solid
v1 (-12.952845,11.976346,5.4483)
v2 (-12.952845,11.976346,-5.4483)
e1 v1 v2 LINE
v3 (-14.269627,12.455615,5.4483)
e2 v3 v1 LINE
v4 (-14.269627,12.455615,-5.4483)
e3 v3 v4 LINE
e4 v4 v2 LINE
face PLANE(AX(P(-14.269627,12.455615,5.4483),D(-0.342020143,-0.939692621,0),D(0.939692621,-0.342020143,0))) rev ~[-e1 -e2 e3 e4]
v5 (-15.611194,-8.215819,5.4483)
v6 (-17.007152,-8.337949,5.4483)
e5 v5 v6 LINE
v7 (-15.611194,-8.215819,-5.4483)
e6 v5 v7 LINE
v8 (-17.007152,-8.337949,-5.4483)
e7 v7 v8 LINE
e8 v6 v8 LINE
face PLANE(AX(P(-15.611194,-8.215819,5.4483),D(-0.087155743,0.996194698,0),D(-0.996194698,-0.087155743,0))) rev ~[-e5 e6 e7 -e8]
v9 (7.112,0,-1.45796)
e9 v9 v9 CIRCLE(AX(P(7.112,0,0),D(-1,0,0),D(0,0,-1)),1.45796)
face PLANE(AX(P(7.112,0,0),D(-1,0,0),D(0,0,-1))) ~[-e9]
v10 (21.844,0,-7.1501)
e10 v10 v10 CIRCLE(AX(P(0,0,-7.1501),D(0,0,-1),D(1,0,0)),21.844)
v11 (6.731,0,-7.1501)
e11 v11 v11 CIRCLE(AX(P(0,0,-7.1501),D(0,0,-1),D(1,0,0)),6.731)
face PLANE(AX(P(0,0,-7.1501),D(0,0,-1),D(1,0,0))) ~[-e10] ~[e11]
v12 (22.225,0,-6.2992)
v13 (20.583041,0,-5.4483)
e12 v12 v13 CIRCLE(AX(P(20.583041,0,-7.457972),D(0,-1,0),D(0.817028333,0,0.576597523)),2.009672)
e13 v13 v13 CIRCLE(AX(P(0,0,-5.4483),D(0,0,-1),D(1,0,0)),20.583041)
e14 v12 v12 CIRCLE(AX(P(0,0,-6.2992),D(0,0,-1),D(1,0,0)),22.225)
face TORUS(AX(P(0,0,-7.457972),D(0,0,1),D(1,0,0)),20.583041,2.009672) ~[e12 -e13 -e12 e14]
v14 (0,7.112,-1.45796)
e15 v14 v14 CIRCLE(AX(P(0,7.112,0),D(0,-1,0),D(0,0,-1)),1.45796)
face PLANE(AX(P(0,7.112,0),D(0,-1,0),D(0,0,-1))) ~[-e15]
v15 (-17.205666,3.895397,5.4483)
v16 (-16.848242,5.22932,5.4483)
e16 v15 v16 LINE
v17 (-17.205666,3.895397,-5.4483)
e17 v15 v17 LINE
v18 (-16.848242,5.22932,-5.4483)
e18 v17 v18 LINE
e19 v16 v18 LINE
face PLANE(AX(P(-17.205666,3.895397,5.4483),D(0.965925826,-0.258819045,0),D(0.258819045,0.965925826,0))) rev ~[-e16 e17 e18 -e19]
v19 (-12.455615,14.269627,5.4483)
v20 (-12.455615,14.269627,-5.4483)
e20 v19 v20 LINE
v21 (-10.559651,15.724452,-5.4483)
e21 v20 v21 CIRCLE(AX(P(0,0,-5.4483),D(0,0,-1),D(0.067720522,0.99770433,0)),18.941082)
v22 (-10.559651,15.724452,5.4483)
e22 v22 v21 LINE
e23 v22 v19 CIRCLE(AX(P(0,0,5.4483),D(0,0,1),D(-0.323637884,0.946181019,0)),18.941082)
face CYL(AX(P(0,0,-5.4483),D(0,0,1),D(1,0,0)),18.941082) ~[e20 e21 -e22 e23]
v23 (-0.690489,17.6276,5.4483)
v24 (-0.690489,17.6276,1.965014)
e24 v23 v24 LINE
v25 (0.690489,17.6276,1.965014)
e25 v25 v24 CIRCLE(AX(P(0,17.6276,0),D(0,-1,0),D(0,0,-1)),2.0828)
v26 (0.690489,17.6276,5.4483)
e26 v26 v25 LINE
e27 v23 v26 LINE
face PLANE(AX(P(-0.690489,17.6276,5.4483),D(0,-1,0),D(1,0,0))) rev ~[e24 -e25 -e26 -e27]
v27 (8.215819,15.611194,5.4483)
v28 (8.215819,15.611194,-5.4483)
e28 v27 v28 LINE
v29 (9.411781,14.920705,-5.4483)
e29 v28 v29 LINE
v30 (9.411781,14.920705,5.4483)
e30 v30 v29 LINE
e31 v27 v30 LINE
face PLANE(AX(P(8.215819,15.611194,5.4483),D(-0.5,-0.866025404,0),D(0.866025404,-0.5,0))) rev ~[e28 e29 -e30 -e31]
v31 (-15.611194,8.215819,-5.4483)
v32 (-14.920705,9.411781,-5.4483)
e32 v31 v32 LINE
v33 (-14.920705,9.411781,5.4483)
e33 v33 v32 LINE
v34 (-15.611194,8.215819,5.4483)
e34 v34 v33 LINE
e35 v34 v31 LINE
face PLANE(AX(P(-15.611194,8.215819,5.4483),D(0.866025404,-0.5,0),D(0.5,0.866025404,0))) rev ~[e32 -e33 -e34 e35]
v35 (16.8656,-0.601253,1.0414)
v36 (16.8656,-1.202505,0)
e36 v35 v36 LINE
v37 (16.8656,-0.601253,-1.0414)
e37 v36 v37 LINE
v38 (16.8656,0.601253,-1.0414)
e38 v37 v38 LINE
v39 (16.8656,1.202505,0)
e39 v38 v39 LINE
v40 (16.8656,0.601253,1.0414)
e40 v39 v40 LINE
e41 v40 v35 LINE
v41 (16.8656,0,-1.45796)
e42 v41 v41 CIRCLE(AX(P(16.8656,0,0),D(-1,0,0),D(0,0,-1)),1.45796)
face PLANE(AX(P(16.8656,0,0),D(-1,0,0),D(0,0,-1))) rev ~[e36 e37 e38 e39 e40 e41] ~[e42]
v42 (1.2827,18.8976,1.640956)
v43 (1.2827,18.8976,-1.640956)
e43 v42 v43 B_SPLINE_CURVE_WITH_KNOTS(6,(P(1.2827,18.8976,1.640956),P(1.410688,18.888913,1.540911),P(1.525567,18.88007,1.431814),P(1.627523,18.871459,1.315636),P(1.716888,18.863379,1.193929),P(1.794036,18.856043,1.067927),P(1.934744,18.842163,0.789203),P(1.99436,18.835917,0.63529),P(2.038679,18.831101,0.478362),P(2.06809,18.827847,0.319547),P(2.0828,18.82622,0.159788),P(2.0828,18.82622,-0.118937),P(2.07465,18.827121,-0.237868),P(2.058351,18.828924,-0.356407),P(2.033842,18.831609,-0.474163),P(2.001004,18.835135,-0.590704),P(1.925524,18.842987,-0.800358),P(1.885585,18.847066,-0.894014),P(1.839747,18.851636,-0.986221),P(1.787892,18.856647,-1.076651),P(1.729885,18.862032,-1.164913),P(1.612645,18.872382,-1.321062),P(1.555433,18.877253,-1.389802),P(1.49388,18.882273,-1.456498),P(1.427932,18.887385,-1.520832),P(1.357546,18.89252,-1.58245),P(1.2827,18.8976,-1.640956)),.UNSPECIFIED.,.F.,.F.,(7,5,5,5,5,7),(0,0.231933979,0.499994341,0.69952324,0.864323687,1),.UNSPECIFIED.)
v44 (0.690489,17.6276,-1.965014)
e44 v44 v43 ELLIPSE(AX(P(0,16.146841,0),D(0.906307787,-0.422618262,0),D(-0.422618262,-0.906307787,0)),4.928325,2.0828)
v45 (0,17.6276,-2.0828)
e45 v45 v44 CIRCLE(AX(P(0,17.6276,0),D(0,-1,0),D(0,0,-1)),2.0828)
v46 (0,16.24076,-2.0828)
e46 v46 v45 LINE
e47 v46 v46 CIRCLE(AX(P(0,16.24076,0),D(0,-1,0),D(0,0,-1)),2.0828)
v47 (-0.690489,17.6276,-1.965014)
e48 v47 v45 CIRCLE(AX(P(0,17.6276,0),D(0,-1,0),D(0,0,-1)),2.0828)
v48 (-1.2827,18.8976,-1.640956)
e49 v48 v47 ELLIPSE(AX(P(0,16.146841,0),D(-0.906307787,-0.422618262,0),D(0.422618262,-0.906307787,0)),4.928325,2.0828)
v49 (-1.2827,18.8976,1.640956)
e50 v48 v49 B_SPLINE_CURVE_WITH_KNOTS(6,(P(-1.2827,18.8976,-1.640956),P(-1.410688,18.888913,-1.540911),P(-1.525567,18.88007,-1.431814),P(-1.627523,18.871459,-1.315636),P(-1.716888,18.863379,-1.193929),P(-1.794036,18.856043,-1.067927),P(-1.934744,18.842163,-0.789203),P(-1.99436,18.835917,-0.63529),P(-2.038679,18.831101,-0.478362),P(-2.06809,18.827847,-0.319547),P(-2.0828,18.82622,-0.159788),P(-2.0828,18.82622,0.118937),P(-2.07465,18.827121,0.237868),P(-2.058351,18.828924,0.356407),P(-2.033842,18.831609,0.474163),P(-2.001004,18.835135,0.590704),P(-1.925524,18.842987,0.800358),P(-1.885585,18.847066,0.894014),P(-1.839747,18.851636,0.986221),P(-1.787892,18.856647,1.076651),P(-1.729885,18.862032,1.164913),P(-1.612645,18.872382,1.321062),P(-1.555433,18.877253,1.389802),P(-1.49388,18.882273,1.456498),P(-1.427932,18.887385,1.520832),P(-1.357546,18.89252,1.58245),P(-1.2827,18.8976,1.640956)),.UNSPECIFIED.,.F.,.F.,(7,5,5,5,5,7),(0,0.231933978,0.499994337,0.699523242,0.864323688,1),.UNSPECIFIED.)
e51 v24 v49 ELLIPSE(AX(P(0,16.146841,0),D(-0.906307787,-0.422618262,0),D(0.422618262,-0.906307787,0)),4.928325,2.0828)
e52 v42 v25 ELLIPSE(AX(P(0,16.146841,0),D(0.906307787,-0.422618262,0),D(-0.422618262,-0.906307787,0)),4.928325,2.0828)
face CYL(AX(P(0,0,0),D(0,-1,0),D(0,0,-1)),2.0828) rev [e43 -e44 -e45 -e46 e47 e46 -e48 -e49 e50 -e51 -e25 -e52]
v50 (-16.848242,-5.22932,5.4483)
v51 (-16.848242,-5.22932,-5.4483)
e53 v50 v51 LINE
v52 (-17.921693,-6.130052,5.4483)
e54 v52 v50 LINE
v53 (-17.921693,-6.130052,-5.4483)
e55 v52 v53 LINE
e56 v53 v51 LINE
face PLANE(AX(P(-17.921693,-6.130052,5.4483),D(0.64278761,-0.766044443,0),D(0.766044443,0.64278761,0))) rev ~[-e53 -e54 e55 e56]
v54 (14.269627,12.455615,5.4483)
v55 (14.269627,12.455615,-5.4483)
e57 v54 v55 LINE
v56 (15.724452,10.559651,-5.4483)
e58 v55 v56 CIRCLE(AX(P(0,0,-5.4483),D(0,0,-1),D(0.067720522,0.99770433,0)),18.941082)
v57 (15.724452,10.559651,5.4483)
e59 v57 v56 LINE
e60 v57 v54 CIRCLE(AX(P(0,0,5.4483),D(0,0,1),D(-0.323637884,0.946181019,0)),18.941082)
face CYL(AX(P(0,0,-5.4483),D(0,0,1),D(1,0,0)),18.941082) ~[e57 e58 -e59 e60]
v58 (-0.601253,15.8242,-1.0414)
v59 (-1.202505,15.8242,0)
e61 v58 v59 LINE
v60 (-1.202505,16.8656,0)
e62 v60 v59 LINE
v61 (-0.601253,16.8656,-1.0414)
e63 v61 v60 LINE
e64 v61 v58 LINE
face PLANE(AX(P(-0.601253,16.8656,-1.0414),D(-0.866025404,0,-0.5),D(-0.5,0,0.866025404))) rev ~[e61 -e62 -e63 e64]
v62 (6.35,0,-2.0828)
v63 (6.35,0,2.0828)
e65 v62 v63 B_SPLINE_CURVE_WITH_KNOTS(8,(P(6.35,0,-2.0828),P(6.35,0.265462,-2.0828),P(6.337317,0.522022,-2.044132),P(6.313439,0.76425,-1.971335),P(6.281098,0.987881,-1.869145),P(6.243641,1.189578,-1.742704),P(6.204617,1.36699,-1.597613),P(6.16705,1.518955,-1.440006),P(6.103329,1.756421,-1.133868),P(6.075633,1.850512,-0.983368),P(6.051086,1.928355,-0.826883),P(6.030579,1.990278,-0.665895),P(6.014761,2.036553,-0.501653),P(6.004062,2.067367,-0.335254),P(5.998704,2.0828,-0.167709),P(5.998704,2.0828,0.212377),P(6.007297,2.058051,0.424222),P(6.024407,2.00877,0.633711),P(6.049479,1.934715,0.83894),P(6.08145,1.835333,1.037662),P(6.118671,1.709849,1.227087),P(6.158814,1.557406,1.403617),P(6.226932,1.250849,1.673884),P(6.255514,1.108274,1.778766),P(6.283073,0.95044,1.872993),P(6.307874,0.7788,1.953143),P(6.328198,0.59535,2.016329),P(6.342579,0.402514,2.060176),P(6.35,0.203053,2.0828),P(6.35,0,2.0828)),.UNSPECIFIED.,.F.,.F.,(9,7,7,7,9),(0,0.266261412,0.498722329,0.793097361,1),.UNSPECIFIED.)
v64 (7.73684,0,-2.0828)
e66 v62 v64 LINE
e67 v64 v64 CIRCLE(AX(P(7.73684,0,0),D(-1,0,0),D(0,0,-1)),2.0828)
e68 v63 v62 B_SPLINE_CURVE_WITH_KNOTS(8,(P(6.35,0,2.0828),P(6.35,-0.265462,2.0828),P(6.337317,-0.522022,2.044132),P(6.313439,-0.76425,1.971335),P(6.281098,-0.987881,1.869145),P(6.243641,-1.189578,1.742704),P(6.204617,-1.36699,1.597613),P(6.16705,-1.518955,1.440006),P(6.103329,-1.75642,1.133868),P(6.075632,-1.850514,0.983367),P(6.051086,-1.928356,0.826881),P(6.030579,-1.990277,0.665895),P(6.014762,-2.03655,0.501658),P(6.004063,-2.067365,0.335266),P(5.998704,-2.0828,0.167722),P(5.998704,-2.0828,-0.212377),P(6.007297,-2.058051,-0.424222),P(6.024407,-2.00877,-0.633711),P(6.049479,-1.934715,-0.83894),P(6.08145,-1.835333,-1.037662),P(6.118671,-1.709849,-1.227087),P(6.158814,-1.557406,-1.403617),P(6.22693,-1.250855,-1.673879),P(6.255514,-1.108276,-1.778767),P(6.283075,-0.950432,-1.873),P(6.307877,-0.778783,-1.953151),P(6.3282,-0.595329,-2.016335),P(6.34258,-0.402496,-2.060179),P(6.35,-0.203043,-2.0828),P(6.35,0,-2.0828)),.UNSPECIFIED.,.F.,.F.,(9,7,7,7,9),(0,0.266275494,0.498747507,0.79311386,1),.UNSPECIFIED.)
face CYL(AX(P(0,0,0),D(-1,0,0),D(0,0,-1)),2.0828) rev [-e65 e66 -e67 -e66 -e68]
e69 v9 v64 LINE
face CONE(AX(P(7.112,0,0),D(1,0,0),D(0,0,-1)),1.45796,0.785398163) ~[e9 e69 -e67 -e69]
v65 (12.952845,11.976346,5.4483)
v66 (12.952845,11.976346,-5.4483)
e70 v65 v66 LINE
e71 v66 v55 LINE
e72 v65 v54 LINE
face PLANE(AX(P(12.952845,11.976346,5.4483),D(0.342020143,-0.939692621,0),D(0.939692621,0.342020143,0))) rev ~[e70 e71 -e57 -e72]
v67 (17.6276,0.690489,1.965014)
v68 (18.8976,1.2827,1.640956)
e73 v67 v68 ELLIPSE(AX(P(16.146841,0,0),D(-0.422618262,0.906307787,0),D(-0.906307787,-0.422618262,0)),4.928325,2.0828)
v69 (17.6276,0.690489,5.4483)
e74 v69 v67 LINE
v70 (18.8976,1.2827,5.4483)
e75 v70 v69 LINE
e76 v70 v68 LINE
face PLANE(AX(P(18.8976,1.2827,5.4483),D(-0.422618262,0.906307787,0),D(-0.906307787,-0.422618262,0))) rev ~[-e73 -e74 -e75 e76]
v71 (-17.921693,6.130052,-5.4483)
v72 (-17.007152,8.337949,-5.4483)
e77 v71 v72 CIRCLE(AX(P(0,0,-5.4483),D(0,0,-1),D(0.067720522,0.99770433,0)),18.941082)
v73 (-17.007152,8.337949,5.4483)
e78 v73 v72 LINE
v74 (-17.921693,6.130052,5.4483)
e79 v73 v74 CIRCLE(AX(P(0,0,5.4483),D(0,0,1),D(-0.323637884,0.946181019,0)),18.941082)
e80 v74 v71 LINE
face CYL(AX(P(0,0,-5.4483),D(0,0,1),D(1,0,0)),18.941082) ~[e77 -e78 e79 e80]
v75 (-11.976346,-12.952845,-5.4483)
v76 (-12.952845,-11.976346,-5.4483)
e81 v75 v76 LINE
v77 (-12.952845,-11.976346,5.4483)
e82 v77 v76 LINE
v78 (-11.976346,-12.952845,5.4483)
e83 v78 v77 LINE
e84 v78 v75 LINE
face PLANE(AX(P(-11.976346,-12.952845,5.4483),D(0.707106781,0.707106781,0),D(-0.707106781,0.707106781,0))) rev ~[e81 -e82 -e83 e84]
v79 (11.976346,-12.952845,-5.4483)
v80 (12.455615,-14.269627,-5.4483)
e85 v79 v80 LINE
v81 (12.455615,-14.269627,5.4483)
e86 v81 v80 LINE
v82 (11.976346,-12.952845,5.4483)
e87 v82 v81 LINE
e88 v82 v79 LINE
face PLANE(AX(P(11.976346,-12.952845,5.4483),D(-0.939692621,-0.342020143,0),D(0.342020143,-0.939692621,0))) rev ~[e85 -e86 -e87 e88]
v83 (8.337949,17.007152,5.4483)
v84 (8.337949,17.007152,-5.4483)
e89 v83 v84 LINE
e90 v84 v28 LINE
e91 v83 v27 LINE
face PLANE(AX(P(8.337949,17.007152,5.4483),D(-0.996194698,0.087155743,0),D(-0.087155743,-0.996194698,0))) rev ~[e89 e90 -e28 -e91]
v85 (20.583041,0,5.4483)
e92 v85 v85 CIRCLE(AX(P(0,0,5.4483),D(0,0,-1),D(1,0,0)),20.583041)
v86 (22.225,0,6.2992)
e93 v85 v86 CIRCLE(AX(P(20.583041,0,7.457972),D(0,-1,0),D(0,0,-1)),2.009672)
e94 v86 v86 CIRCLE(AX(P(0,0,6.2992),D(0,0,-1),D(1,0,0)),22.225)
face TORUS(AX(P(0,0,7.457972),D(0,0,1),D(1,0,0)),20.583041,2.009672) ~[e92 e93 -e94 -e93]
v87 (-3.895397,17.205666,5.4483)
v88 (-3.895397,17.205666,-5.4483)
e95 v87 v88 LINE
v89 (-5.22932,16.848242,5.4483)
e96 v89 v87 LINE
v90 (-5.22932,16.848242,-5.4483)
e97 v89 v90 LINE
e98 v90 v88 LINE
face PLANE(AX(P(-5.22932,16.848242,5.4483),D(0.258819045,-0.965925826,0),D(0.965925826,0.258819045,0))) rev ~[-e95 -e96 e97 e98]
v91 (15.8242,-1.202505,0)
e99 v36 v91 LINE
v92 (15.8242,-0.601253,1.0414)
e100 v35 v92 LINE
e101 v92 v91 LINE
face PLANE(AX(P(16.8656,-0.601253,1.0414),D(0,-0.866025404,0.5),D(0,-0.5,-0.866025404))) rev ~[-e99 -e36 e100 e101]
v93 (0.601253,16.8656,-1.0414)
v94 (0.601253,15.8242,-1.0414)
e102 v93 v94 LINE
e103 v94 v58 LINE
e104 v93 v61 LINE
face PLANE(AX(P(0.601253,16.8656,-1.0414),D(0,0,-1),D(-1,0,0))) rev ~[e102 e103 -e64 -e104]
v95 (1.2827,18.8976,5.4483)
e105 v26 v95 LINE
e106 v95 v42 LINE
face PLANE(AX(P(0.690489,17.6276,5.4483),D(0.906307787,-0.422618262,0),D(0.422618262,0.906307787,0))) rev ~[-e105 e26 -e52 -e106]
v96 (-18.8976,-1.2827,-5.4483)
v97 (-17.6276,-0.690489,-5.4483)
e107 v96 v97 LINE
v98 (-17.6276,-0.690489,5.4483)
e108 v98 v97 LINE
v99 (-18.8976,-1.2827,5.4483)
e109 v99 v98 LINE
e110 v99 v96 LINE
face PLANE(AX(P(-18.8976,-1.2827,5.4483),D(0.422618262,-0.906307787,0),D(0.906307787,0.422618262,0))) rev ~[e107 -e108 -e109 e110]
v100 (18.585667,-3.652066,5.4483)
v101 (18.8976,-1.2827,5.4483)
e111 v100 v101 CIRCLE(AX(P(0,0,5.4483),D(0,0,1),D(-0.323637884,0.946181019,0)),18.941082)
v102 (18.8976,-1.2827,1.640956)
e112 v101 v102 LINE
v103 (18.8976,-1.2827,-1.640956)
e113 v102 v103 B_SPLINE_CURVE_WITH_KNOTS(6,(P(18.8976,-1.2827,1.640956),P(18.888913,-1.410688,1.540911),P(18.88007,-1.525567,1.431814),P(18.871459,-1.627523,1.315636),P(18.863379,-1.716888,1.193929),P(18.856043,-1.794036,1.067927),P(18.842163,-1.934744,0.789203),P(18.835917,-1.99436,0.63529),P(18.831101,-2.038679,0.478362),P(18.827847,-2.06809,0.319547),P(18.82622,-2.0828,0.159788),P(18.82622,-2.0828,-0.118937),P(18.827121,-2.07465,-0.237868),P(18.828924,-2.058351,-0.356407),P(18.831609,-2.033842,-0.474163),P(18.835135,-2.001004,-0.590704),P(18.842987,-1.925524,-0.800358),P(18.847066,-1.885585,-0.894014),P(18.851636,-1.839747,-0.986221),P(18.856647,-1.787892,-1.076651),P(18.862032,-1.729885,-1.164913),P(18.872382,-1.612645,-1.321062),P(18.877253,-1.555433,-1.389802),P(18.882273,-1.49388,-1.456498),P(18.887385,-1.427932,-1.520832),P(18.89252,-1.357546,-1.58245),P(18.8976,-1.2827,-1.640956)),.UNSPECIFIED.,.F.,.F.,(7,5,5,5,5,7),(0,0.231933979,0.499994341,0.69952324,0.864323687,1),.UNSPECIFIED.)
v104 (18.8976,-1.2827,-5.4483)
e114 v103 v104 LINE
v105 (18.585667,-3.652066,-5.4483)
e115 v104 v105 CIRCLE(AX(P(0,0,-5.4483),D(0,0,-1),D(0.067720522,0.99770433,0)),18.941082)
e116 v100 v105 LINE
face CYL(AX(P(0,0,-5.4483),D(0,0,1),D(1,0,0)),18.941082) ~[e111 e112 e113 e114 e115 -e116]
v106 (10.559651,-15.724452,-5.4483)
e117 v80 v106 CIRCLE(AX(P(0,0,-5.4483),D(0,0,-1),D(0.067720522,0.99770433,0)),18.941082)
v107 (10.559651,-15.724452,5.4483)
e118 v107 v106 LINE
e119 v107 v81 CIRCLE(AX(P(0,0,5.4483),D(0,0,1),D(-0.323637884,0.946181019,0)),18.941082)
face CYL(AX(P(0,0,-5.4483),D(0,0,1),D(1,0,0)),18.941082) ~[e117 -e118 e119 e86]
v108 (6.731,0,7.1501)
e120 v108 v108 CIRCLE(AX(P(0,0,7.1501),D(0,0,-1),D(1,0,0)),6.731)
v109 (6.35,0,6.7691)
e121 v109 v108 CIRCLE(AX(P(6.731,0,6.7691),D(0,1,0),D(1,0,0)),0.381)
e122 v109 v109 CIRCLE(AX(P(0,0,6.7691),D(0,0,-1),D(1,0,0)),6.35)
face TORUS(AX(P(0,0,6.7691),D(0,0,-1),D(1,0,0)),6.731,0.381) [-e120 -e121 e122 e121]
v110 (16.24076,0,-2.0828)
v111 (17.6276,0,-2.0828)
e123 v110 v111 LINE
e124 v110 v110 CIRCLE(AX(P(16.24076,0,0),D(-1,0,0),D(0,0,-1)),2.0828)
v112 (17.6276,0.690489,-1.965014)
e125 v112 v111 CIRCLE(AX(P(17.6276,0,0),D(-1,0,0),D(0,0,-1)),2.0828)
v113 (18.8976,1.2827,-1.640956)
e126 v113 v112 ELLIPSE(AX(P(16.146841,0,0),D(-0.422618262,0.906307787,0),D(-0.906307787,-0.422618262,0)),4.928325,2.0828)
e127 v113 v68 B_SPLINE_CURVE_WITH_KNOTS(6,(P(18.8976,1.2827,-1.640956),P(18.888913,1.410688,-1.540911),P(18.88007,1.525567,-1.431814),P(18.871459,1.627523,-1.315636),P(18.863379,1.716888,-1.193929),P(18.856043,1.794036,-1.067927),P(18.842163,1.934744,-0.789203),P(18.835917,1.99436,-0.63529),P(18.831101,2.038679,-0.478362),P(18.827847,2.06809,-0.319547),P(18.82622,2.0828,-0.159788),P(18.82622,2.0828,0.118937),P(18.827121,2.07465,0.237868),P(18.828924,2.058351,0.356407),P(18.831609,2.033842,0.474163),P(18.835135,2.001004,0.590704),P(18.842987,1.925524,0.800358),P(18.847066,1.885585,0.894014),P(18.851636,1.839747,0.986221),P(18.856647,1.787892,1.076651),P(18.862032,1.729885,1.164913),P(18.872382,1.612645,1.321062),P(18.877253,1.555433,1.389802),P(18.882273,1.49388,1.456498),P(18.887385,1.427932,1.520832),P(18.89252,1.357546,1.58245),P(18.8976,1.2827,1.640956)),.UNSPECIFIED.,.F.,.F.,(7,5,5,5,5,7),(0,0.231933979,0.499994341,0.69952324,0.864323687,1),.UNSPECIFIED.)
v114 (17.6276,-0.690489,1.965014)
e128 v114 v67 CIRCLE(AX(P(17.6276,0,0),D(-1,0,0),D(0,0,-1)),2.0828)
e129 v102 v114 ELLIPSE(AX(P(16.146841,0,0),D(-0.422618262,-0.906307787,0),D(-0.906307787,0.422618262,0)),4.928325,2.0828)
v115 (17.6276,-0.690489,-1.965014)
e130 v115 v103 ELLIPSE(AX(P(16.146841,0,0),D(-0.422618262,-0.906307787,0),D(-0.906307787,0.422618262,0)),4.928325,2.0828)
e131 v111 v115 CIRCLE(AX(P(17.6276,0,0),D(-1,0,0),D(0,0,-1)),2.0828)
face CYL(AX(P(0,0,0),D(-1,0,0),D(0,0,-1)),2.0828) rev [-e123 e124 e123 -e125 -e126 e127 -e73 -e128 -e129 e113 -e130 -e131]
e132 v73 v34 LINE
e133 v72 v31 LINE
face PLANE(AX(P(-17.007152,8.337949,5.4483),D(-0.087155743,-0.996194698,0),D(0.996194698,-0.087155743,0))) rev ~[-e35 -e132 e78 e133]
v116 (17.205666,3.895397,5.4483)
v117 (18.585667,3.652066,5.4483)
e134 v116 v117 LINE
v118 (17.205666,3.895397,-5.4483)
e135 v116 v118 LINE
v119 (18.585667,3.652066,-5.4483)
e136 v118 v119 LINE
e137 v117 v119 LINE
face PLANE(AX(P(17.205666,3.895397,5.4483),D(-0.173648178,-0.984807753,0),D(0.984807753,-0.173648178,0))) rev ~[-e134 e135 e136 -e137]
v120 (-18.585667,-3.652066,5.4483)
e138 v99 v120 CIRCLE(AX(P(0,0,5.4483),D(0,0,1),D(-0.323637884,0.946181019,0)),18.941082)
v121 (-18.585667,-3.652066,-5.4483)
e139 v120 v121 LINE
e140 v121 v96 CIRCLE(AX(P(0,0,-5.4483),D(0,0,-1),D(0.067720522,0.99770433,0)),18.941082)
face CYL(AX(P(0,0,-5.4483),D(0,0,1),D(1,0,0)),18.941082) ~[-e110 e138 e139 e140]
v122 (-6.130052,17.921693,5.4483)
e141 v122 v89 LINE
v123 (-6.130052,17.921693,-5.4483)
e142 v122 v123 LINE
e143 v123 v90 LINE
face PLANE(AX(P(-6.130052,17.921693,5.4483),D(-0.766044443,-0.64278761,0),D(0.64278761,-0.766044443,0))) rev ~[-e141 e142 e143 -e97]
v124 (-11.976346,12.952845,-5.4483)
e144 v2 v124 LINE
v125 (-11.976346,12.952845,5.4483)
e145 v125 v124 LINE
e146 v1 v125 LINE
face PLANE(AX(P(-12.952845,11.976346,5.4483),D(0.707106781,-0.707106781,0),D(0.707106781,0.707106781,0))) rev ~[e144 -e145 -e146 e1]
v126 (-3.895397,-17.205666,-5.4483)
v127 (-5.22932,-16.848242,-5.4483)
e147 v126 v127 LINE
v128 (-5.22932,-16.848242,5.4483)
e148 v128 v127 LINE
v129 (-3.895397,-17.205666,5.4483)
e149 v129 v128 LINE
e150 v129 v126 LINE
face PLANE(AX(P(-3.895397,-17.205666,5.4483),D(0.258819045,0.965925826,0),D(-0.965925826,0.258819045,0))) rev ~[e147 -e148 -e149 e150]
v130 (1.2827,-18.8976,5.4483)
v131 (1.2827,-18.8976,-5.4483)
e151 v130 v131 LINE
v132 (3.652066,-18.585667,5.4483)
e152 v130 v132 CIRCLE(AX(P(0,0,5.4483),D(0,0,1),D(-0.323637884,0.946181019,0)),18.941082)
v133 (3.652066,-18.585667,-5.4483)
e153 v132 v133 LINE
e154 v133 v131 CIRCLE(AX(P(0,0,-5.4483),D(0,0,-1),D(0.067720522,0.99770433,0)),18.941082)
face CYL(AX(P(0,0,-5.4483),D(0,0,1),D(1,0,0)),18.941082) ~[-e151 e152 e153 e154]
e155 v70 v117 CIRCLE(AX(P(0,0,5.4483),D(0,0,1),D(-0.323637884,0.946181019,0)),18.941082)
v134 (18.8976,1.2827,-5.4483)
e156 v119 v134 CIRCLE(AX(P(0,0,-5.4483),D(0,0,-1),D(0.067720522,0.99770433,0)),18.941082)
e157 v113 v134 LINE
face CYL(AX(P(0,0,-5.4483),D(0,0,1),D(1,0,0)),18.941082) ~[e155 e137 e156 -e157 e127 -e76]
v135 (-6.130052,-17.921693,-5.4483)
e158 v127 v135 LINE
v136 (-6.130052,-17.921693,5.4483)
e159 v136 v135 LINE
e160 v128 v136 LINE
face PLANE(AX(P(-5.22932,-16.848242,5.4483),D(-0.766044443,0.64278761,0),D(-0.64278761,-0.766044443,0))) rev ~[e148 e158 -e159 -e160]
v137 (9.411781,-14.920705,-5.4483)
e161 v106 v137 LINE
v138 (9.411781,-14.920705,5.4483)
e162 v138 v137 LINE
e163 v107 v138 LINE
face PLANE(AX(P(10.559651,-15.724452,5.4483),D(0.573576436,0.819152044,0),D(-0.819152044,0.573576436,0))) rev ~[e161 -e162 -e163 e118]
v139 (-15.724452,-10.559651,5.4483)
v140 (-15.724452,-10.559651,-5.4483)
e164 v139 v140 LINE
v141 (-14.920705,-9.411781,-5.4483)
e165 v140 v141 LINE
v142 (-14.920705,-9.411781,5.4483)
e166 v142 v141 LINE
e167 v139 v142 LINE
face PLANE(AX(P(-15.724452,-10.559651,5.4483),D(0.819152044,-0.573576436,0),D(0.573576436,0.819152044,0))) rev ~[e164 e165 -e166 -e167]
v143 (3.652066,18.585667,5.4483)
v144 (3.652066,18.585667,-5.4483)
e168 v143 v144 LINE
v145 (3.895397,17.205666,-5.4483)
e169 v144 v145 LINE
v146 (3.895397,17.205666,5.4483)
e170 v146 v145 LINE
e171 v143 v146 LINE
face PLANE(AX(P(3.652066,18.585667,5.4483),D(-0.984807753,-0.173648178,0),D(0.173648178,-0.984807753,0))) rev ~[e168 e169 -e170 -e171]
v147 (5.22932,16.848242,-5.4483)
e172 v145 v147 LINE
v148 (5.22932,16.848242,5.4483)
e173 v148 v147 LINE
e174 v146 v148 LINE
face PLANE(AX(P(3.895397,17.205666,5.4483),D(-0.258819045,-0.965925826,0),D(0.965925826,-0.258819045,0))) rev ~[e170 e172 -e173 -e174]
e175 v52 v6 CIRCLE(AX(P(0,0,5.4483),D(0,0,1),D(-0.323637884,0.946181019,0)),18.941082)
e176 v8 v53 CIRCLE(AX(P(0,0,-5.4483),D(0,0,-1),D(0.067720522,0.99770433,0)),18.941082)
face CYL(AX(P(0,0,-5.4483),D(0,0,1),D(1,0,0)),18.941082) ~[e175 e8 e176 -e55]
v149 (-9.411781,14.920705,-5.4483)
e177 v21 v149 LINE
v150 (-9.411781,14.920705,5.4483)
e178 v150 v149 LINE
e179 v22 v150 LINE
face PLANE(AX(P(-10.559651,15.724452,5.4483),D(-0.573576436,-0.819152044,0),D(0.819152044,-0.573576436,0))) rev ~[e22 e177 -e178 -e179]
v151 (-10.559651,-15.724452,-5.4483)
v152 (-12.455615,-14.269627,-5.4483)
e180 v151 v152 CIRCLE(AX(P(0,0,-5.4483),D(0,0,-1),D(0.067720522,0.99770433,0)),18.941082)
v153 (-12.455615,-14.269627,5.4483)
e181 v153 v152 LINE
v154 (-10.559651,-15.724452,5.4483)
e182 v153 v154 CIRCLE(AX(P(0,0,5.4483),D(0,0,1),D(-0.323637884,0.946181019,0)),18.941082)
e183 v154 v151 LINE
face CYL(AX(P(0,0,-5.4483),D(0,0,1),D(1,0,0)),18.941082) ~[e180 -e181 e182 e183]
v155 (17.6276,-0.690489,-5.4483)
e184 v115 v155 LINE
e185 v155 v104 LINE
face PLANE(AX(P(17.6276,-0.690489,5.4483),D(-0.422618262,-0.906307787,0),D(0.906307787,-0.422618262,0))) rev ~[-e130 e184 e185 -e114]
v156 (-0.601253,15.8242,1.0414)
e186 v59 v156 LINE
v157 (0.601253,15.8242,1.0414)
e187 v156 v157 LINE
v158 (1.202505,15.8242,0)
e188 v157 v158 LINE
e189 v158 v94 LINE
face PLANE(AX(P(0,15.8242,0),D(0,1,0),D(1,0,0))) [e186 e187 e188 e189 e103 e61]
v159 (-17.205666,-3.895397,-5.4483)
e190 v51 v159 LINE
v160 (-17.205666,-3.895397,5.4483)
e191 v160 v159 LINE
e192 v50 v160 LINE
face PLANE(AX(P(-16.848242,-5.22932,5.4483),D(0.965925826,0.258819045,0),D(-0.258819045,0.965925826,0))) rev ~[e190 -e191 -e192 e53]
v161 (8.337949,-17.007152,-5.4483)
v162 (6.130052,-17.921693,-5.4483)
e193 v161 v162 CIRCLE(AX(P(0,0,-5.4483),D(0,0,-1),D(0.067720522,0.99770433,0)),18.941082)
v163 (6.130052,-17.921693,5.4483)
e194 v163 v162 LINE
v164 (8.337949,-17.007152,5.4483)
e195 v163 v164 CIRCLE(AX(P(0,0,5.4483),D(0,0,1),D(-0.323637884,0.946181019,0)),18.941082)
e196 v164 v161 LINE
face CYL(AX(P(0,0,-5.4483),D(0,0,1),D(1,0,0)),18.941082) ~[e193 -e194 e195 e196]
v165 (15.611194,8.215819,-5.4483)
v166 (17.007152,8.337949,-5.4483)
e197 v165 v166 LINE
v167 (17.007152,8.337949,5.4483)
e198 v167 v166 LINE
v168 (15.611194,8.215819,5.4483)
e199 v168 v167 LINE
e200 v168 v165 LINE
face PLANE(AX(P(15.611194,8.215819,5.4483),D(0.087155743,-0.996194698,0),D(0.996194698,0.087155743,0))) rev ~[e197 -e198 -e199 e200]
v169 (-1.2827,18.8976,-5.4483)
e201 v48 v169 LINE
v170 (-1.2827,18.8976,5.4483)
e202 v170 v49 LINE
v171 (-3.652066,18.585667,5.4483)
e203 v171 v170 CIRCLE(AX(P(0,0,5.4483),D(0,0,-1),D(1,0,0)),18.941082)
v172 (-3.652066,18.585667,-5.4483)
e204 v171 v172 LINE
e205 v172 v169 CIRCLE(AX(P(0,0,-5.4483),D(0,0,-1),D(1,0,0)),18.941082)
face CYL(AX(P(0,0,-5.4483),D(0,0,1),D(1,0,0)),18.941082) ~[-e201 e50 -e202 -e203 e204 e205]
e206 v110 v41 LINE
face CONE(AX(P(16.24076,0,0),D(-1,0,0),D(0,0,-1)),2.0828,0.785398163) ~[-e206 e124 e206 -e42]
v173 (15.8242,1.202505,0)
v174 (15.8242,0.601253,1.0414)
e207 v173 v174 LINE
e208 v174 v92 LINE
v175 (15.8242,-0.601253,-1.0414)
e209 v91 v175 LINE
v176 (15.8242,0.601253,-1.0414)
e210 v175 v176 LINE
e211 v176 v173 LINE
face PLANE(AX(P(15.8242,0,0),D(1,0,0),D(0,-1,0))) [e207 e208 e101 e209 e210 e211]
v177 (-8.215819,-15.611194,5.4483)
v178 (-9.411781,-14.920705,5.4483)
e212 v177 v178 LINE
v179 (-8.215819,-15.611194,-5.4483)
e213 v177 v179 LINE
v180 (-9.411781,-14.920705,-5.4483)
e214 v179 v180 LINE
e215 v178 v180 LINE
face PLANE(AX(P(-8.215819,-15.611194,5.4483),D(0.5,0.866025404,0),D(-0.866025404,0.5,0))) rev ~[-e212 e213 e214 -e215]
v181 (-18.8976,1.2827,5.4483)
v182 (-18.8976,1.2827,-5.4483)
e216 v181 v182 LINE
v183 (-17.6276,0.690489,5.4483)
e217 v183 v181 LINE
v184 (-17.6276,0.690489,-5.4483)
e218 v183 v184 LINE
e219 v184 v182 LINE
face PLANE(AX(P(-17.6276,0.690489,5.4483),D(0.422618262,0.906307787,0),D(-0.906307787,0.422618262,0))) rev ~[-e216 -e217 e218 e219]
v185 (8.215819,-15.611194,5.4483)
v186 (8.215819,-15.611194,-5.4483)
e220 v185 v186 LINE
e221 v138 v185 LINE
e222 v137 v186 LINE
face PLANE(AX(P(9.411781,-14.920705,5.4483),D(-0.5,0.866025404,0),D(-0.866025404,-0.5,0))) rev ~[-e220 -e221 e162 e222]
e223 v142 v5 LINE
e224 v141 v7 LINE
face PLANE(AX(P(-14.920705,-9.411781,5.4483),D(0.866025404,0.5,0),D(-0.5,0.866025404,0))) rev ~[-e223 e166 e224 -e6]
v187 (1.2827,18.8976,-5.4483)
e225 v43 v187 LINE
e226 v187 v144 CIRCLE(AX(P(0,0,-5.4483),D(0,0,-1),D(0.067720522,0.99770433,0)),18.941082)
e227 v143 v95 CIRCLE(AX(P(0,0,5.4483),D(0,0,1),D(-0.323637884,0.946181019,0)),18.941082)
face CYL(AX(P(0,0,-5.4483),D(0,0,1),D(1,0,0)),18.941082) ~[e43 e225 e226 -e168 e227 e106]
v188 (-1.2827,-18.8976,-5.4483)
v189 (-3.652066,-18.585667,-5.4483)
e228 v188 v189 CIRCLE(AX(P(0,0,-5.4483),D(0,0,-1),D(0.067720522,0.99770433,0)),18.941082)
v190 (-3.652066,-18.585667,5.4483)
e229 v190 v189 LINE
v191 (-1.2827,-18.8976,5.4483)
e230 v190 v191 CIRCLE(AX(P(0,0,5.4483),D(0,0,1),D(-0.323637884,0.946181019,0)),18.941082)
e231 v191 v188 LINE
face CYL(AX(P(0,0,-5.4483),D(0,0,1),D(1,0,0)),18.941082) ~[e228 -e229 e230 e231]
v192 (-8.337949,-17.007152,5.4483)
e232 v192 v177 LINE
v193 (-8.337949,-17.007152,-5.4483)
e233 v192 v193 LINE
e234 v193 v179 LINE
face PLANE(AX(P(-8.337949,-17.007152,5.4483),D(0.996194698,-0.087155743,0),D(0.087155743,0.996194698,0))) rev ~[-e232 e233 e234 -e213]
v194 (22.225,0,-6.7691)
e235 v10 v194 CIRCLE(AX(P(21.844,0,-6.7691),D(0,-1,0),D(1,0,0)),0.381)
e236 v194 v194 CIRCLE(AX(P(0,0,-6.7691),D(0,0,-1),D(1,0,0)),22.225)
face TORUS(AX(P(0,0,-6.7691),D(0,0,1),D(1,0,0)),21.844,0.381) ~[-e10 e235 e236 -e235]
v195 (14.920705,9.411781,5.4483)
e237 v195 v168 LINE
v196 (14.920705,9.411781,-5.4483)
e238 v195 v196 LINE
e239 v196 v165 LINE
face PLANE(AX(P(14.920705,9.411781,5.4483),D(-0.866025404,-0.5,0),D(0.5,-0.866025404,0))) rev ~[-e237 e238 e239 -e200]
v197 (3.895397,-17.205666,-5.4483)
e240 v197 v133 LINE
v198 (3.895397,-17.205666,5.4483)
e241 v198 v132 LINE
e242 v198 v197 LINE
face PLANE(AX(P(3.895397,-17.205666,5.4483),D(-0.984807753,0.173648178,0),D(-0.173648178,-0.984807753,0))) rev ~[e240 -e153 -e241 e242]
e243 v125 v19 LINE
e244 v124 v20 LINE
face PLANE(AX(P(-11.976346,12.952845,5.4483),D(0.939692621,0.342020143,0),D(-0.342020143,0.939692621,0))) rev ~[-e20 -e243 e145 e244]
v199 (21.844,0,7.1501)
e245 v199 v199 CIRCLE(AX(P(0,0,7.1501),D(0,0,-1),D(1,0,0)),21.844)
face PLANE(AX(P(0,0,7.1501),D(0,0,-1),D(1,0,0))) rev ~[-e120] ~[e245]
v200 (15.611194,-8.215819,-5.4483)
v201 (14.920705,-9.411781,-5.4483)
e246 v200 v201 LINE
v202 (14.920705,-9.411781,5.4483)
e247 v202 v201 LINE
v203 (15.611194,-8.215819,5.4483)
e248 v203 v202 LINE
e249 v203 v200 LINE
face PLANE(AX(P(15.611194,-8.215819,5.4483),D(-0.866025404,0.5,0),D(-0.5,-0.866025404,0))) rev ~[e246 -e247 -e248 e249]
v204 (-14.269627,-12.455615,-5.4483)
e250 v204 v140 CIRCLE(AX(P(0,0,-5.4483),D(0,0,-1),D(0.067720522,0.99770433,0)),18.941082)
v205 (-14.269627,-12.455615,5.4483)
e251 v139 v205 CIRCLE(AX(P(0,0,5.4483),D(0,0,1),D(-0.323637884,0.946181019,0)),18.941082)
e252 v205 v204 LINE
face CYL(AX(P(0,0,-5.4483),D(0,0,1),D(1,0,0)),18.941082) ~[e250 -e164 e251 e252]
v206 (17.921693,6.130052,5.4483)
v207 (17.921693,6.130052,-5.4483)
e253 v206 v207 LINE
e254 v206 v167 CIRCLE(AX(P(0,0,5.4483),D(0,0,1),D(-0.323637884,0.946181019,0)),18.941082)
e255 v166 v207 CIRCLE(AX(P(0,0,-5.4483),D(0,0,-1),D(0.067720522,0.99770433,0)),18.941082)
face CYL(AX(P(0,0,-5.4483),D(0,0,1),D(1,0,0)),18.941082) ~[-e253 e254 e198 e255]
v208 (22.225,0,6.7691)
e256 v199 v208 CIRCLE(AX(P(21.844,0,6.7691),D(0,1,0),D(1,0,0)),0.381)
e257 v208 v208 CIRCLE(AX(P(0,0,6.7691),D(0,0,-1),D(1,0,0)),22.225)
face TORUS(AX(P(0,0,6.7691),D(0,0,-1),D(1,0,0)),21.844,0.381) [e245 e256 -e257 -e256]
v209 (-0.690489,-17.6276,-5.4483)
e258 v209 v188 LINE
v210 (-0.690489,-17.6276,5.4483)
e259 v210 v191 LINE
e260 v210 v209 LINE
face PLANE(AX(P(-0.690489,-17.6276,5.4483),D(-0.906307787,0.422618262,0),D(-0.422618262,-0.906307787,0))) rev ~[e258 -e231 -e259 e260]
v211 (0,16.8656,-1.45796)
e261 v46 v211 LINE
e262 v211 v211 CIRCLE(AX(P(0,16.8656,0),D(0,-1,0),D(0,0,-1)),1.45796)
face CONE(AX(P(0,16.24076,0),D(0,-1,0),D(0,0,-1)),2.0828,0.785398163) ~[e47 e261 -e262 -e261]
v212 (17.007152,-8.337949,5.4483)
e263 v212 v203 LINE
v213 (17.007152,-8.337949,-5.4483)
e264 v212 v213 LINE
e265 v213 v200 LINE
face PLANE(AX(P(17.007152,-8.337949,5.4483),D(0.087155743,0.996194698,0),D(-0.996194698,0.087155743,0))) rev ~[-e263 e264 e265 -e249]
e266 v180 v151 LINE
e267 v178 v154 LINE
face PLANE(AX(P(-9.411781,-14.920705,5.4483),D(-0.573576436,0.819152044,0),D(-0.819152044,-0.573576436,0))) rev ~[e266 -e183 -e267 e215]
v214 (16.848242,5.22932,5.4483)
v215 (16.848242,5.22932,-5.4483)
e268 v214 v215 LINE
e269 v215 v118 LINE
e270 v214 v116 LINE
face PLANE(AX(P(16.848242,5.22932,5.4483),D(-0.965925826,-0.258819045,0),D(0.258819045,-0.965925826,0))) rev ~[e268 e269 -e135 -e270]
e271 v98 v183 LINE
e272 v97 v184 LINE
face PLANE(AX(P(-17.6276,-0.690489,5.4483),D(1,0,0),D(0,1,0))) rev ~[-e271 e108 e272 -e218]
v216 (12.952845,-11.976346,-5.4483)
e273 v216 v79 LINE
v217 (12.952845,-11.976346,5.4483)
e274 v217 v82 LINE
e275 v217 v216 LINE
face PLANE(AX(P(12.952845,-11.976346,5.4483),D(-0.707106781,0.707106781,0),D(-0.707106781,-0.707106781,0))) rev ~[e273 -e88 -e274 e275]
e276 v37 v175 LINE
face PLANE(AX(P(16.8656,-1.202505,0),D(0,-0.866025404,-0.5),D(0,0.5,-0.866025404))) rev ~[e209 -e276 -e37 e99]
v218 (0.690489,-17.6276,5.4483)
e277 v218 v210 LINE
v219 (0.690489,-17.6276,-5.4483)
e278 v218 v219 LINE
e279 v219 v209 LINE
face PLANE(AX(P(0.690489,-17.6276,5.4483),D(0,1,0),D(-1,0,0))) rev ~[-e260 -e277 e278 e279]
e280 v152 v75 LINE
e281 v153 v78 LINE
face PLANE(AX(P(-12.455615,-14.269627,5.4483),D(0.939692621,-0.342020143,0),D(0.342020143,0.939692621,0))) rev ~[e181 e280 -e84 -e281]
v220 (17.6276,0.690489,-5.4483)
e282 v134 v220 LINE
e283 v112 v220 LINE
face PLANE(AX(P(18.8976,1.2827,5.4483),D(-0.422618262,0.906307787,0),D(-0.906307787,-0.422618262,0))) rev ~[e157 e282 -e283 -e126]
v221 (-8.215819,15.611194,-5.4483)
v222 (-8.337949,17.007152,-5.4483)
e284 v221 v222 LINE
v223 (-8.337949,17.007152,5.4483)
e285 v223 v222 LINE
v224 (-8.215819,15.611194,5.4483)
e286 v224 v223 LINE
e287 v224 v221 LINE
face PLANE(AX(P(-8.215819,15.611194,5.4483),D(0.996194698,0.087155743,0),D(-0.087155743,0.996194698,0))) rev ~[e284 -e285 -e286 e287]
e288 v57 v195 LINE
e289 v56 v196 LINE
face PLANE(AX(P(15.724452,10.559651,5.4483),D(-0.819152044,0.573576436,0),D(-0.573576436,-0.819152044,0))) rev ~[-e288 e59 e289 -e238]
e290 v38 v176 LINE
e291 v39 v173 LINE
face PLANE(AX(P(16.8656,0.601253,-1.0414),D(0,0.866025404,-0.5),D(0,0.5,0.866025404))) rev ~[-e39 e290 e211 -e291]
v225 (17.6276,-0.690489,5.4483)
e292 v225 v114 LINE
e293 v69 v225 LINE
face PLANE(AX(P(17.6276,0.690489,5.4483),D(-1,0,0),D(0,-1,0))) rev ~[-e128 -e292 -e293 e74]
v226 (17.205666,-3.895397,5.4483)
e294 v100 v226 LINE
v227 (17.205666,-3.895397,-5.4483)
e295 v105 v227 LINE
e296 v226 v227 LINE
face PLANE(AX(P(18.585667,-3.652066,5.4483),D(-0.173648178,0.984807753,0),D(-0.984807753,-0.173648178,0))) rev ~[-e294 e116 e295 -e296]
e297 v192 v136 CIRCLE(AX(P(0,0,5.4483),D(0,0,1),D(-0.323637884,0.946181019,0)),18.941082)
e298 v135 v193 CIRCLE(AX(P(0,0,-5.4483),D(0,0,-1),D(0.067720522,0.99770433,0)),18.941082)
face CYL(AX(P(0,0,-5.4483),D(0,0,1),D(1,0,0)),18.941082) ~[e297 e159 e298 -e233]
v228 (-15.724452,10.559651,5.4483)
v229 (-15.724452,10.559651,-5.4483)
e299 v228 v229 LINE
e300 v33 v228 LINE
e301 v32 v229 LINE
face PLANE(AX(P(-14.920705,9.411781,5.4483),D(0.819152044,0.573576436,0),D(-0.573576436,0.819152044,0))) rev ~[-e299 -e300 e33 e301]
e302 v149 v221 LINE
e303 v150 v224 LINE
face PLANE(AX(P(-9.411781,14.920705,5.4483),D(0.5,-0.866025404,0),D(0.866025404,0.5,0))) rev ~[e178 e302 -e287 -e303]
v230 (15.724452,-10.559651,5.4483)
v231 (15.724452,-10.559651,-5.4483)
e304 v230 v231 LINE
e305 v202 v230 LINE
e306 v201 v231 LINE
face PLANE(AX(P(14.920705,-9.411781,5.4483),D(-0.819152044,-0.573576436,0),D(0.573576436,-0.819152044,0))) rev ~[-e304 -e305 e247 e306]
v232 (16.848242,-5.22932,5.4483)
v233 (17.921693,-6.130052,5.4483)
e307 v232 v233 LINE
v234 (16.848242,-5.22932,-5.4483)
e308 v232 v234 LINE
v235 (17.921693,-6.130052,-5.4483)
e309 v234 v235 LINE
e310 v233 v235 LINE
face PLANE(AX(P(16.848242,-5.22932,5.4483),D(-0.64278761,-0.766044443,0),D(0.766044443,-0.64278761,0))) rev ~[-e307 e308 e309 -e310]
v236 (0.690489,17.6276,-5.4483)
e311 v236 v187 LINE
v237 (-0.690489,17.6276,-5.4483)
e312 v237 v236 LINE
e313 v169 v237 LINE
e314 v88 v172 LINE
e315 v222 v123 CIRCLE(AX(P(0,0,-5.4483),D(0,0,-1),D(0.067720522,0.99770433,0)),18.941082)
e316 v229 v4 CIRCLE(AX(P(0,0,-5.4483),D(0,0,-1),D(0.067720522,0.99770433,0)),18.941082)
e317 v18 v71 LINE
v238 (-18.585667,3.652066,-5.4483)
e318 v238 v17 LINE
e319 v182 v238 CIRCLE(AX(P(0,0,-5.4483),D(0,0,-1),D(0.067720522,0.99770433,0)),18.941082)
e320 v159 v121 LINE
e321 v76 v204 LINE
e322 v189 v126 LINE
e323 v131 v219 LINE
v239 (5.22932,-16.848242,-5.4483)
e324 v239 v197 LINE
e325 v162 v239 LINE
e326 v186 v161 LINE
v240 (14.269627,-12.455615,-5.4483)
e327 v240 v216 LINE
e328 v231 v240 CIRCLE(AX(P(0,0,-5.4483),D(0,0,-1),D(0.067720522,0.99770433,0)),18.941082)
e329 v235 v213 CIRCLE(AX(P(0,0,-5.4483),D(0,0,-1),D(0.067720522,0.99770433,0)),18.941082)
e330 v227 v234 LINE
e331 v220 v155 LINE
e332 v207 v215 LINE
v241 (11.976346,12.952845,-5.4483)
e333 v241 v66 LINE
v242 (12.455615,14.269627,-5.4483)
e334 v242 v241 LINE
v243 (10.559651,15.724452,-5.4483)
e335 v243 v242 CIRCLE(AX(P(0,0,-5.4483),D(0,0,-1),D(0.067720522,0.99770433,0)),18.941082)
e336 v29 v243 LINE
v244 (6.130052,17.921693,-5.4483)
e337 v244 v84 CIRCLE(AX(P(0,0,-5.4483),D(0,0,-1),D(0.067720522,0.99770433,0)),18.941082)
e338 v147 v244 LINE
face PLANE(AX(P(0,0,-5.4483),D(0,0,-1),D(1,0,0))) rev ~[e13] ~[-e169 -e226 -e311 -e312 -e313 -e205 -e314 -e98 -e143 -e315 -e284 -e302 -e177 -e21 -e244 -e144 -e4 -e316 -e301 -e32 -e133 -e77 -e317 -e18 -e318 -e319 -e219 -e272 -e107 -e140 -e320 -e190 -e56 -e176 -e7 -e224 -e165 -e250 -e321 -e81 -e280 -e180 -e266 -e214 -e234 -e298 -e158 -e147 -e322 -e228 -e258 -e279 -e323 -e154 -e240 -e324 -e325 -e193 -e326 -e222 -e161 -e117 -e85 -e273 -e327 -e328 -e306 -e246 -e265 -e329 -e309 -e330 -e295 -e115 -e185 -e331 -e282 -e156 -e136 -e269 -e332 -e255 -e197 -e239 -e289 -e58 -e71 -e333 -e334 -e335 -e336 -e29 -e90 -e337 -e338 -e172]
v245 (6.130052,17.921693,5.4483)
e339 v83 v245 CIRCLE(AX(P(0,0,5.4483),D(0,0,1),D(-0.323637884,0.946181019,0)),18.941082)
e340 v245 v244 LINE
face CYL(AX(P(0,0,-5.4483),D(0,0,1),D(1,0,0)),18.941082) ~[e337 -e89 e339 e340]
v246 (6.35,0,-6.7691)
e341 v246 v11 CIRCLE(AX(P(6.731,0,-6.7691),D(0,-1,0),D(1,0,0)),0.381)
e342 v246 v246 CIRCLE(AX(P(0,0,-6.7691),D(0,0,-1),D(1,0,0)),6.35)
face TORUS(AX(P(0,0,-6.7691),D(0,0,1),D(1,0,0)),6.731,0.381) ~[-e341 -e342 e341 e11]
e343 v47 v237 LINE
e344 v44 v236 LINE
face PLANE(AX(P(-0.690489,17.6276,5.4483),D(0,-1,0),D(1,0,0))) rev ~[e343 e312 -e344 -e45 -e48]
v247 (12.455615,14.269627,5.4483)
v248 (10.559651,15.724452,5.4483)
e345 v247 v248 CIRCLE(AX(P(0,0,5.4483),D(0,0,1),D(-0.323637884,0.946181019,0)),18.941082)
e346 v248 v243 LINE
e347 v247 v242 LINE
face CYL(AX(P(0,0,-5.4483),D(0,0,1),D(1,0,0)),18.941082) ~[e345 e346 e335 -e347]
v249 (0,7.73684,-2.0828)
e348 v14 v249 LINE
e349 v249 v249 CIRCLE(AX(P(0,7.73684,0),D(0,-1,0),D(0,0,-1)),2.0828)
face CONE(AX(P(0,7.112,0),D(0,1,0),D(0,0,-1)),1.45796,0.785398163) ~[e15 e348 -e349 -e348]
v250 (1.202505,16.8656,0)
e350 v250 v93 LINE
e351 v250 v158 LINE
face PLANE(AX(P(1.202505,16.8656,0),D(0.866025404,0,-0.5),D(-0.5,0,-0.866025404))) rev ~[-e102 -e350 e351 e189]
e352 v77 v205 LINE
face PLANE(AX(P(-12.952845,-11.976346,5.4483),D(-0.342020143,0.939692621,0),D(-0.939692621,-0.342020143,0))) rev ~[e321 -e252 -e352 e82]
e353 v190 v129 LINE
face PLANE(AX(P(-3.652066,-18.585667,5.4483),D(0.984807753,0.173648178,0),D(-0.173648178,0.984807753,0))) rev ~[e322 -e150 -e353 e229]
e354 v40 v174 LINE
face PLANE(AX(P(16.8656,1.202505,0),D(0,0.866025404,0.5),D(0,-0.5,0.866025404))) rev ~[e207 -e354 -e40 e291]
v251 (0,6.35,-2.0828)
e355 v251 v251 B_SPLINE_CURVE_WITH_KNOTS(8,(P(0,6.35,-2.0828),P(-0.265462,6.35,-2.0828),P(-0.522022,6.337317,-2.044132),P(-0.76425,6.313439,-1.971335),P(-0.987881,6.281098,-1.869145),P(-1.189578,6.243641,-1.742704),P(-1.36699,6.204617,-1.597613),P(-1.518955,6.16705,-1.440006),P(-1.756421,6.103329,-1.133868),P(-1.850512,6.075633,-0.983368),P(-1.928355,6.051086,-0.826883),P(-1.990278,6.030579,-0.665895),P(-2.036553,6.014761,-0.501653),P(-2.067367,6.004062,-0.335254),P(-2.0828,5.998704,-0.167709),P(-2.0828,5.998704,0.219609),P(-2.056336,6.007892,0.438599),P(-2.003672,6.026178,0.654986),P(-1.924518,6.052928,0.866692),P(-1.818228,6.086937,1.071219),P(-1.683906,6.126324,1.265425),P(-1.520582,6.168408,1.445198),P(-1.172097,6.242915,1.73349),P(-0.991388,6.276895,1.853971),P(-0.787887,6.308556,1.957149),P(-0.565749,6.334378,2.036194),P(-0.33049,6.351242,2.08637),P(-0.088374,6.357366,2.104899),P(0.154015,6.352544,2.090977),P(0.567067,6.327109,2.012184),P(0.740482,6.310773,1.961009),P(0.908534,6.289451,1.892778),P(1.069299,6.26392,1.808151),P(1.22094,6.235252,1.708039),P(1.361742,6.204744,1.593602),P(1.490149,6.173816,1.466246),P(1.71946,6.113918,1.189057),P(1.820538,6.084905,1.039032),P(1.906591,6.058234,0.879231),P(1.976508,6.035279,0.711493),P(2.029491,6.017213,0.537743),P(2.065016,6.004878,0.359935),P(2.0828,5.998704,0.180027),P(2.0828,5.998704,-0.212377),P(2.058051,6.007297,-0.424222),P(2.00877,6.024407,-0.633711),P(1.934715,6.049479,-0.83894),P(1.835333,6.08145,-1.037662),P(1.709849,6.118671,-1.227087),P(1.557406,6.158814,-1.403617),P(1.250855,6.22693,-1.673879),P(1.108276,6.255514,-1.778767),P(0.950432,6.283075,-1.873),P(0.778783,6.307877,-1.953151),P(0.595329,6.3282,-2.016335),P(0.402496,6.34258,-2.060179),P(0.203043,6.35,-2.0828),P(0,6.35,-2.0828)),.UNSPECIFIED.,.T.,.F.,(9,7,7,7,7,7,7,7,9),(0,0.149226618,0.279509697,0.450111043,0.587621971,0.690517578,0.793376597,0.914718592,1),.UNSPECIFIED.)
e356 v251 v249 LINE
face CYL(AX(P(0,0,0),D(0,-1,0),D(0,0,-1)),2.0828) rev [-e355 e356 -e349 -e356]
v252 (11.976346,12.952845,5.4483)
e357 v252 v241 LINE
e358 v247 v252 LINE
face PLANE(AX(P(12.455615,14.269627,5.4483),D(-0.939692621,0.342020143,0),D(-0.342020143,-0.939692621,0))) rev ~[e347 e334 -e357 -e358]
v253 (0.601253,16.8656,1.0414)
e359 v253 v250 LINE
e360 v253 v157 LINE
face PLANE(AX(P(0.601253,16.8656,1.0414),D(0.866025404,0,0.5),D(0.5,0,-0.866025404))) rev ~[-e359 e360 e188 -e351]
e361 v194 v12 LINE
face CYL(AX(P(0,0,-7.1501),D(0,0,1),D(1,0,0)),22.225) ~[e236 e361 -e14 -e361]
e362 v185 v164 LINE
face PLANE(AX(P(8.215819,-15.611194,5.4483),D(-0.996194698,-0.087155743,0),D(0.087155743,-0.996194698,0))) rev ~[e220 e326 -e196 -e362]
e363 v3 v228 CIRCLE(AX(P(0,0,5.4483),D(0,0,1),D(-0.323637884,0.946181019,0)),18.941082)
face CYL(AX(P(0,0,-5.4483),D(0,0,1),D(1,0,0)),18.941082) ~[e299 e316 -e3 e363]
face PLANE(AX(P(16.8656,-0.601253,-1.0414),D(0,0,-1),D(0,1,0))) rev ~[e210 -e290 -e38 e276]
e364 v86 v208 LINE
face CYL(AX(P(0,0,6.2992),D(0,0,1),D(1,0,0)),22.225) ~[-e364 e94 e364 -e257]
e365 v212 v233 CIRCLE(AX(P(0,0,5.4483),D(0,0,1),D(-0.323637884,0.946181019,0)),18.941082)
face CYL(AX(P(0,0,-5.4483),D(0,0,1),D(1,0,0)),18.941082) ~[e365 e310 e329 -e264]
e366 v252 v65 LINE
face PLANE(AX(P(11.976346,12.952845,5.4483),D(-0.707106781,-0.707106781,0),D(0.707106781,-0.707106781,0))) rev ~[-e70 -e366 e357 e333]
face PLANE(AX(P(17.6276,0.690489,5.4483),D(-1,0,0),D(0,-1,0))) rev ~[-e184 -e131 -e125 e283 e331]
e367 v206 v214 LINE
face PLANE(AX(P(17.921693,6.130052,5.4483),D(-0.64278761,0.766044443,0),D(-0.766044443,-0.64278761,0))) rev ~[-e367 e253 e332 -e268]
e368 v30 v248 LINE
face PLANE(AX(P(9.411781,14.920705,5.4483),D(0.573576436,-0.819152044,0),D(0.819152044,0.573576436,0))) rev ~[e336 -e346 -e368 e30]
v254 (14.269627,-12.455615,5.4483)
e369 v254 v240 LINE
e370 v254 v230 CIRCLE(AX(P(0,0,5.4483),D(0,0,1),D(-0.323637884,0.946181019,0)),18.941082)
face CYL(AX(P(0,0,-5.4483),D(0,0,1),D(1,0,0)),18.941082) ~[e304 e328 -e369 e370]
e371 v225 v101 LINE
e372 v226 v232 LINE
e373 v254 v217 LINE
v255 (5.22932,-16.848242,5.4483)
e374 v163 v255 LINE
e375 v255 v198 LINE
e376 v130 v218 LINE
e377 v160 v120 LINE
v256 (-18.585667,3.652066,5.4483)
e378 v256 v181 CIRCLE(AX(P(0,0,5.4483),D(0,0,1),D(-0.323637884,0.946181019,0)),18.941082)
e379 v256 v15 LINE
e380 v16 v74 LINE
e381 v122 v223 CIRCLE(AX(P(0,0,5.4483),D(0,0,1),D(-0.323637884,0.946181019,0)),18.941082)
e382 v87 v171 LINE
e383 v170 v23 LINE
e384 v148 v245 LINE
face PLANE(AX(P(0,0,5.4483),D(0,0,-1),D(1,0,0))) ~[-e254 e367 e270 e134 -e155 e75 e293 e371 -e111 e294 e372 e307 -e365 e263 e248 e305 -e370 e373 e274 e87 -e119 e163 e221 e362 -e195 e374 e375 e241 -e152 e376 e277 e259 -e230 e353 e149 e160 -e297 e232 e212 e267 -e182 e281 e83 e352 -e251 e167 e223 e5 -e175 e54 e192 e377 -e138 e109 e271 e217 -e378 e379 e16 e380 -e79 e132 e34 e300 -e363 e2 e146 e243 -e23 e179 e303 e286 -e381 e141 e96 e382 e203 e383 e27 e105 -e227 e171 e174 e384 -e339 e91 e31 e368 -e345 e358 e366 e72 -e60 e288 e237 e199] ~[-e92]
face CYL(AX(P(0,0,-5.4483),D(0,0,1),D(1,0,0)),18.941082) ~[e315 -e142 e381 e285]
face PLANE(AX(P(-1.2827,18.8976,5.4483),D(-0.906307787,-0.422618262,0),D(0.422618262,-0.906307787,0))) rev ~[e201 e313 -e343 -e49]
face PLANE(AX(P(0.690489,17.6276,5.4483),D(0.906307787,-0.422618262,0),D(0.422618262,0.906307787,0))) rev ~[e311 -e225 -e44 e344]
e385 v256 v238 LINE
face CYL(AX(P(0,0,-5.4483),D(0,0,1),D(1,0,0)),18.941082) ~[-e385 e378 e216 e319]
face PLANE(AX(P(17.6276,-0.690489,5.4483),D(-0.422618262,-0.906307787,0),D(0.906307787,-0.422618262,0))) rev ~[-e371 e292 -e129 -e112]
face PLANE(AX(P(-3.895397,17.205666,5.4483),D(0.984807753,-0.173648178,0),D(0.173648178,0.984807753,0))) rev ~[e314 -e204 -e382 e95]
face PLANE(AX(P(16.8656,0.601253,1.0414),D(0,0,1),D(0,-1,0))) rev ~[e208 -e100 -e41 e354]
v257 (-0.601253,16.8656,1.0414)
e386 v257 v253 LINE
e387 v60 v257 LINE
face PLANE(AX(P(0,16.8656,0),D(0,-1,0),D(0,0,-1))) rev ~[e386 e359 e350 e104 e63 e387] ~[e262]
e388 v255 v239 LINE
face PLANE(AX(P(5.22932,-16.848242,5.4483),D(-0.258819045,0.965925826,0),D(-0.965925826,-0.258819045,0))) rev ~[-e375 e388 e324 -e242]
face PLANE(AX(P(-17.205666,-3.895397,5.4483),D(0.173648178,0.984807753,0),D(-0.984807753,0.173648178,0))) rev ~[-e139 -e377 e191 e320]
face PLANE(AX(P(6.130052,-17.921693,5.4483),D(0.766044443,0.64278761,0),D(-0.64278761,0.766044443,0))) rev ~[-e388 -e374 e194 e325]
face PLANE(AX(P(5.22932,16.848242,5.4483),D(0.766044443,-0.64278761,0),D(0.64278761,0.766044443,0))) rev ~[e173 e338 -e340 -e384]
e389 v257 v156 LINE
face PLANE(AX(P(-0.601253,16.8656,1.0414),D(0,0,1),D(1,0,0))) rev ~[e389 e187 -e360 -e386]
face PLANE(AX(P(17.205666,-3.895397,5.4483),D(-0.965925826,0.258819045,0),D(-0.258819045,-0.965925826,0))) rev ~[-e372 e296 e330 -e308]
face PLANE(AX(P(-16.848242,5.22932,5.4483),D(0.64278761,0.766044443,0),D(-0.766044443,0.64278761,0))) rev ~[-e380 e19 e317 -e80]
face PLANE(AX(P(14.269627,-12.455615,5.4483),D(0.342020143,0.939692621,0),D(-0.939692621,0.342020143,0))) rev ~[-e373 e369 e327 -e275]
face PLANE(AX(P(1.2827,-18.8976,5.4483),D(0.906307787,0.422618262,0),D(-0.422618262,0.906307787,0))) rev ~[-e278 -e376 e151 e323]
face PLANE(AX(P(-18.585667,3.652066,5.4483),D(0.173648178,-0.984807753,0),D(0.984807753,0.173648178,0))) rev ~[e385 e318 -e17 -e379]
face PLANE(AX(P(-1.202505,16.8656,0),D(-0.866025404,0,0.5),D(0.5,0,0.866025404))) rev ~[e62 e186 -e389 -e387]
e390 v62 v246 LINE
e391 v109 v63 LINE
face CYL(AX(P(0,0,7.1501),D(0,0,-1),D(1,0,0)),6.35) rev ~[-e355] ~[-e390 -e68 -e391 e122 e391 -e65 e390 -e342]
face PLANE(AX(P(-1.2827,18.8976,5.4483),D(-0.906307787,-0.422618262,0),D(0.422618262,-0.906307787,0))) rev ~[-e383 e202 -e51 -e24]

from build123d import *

# Parameters (mm, degrees)
CUT_EXTRUDE1_START = 5.4483
CUT_EXTRUDE1_DEPTH = 10.8966
CIRPATTERN1_COUNT  = 24
FILLET1_R          = 0.381
SKETCH5_R          = 2.0828
CUT_EXTRUDE2_DEPTH = 33.233913576
CUT_EXTRUDE3_DEPTH = 1.0414
CIRPATTERN2_COUNT  = 2
CIRPATTERN2_ANGLE  = 270


with BuildPart() as part:
    # Sketch2 → Revolve1 (revolve)
    with BuildSketch(Plane(origin=(0, 0, 0), x_dir=(0, 0, -1), z_dir=(1, 0, 0)), mode=Mode.PRIVATE) as revolve1_sk:
        with BuildLine():
            Line((-7.1501, 6.35), (7.1501, 6.35))
            Line((7.1501, 6.35), (7.1501, 22.225))
            Line((7.1501, 22.225), (6.2992, 22.225))
            ThreePointArc((6.2992, 22.225), (5.673660763, 21.507711364), (5.4483, 20.583041234))
            Line((5.4483, 20.583041234), (5.4483, 18.941082468))
            Line((5.4483, 18.941082468), (-5.4483, 18.941082468))
            Line((-5.4483, 18.941082468), (-5.4483, 20.583041234))
            ThreePointArc((-5.4483, 20.583041234), (-5.673660763, 21.507711364), (-6.2992, 22.225))
            Line((-6.2992, 22.225), (-7.1501, 22.225))
            Line((-7.1501, 22.225), (-7.1501, 6.35))
        make_face()
    revolve(revolve1_sk.sketch.rotate(Axis((0, 0, 7.1501), (0, 0, -1)), 90), axis=Axis((0, 0, 7.1501), (0, 0, -1)))

    # Sketch3 → Cut-Extrude1 (cut)
    with BuildSketch(Plane.XY.offset(CUT_EXTRUDE1_START)):
        with BuildLine():
            Line((-0.690489274, 17.6276), (0.690489274, 17.6276))
            Line((0.690489274, 17.6276), (1.2827, 18.8976))
            ThreePointArc((1.2827, 18.8976), (0, 18.941082468), (-1.2827, 18.8976))
            Line((-1.2827, 18.8976), (-0.690489274, 17.6276))
        make_face()
    cut_extrude1 = extrude(amount=-CUT_EXTRUDE1_DEPTH, mode=Mode.SUBTRACT)

    # CirPattern1: Cut-Extrude1 ×24 about axis
    cirpattern1_axis = Axis((0, 0, 0), (0, 0, 1))
    for i in range(1, CIRPATTERN1_COUNT):
        add(cut_extrude1.rotate(cirpattern1_axis, i * 360 / CIRPATTERN1_COUNT), mode=Mode.SUBTRACT)

    # Fillet1
    fillet1_edges = [part.edges().sort_by_distance(p)[0] for p in [
        (-22.225, 0, -7.1501),
        (-6.35, 0, -7.1501),
        (-6.35, 0, 7.1501),
        (-22.225, 0, 7.1501),
    ]]
    fillet(fillet1_edges, radius=FILLET1_R)

    # Sketch5 → Cut-Extrude2 (cut, through all)
    with BuildSketch(Plane(origin=(0, 0, 0), x_dir=(1, 0, 0), z_dir=(0, 1, 0))):
        with Locations(Location((0, 0, 0), (0, 0, 90))):
            Circle(SKETCH5_R)
    cut_extrude2 = extrude(amount=CUT_EXTRUDE2_DEPTH, mode=Mode.SUBTRACT)

    # Sketch6 → Revolve2 (revolve)
    with BuildSketch(Plane(origin=(0, 0, 0), x_dir=(0, 0, -1), z_dir=(1, 0, 0)), mode=Mode.PRIVATE) as revolve2_sk:
        Polygon((0, 16.8656), (0, 7.112), (-1.45796, 7.112), (-2.0828, 7.73684), (-2.0828, 16.24076), (-1.45796, 16.8656), align=None)
    revolve2 = revolve(revolve2_sk.sketch.rotate(Axis((0, 16.8656, 0), (0, -1, 0)), 180), axis=Axis((0, 16.8656, 0), (0, -1, 0)))

    # Sketch7 → Cut-Extrude3 (cut)
    with BuildSketch(Plane(origin=(0, 16.8656, 0), x_dir=(1, 0, 0), z_dir=(0, 1, 0))):
        Polygon((1.202505141, 0), (0.60125257, 1.0414), (-0.60125257, 1.0414), (-1.202505141, 0), (-0.60125257, -1.0414), (0.60125257, -1.0414), align=None)
    cut_extrude3 = extrude(amount=-CUT_EXTRUDE3_DEPTH, mode=Mode.SUBTRACT)

    # CirPattern2: Cut-Extrude2, Revolve2, Cut-Extrude3 ×2 about axis
    cirpattern2_axis = Axis((0, 0, 0), (0, 0, 1))
    add([cut_extrude2.rotate(cirpattern2_axis, i * CIRPATTERN2_ANGLE / (CIRPATTERN2_COUNT - 1)) for i in range(1, CIRPATTERN2_COUNT)], mode=Mode.SUBTRACT)
    add([revolve2.rotate(cirpattern2_axis, i * CIRPATTERN2_ANGLE / (CIRPATTERN2_COUNT - 1)) for i in range(1, CIRPATTERN2_COUNT)])
    add([cut_extrude3.rotate(cirpattern2_axis, i * CIRPATTERN2_ANGLE / (CIRPATTERN2_COUNT - 1)) for i in range(1, CIRPATTERN2_COUNT)], mode=Mode.SUBTRACT)


solid = part.part
